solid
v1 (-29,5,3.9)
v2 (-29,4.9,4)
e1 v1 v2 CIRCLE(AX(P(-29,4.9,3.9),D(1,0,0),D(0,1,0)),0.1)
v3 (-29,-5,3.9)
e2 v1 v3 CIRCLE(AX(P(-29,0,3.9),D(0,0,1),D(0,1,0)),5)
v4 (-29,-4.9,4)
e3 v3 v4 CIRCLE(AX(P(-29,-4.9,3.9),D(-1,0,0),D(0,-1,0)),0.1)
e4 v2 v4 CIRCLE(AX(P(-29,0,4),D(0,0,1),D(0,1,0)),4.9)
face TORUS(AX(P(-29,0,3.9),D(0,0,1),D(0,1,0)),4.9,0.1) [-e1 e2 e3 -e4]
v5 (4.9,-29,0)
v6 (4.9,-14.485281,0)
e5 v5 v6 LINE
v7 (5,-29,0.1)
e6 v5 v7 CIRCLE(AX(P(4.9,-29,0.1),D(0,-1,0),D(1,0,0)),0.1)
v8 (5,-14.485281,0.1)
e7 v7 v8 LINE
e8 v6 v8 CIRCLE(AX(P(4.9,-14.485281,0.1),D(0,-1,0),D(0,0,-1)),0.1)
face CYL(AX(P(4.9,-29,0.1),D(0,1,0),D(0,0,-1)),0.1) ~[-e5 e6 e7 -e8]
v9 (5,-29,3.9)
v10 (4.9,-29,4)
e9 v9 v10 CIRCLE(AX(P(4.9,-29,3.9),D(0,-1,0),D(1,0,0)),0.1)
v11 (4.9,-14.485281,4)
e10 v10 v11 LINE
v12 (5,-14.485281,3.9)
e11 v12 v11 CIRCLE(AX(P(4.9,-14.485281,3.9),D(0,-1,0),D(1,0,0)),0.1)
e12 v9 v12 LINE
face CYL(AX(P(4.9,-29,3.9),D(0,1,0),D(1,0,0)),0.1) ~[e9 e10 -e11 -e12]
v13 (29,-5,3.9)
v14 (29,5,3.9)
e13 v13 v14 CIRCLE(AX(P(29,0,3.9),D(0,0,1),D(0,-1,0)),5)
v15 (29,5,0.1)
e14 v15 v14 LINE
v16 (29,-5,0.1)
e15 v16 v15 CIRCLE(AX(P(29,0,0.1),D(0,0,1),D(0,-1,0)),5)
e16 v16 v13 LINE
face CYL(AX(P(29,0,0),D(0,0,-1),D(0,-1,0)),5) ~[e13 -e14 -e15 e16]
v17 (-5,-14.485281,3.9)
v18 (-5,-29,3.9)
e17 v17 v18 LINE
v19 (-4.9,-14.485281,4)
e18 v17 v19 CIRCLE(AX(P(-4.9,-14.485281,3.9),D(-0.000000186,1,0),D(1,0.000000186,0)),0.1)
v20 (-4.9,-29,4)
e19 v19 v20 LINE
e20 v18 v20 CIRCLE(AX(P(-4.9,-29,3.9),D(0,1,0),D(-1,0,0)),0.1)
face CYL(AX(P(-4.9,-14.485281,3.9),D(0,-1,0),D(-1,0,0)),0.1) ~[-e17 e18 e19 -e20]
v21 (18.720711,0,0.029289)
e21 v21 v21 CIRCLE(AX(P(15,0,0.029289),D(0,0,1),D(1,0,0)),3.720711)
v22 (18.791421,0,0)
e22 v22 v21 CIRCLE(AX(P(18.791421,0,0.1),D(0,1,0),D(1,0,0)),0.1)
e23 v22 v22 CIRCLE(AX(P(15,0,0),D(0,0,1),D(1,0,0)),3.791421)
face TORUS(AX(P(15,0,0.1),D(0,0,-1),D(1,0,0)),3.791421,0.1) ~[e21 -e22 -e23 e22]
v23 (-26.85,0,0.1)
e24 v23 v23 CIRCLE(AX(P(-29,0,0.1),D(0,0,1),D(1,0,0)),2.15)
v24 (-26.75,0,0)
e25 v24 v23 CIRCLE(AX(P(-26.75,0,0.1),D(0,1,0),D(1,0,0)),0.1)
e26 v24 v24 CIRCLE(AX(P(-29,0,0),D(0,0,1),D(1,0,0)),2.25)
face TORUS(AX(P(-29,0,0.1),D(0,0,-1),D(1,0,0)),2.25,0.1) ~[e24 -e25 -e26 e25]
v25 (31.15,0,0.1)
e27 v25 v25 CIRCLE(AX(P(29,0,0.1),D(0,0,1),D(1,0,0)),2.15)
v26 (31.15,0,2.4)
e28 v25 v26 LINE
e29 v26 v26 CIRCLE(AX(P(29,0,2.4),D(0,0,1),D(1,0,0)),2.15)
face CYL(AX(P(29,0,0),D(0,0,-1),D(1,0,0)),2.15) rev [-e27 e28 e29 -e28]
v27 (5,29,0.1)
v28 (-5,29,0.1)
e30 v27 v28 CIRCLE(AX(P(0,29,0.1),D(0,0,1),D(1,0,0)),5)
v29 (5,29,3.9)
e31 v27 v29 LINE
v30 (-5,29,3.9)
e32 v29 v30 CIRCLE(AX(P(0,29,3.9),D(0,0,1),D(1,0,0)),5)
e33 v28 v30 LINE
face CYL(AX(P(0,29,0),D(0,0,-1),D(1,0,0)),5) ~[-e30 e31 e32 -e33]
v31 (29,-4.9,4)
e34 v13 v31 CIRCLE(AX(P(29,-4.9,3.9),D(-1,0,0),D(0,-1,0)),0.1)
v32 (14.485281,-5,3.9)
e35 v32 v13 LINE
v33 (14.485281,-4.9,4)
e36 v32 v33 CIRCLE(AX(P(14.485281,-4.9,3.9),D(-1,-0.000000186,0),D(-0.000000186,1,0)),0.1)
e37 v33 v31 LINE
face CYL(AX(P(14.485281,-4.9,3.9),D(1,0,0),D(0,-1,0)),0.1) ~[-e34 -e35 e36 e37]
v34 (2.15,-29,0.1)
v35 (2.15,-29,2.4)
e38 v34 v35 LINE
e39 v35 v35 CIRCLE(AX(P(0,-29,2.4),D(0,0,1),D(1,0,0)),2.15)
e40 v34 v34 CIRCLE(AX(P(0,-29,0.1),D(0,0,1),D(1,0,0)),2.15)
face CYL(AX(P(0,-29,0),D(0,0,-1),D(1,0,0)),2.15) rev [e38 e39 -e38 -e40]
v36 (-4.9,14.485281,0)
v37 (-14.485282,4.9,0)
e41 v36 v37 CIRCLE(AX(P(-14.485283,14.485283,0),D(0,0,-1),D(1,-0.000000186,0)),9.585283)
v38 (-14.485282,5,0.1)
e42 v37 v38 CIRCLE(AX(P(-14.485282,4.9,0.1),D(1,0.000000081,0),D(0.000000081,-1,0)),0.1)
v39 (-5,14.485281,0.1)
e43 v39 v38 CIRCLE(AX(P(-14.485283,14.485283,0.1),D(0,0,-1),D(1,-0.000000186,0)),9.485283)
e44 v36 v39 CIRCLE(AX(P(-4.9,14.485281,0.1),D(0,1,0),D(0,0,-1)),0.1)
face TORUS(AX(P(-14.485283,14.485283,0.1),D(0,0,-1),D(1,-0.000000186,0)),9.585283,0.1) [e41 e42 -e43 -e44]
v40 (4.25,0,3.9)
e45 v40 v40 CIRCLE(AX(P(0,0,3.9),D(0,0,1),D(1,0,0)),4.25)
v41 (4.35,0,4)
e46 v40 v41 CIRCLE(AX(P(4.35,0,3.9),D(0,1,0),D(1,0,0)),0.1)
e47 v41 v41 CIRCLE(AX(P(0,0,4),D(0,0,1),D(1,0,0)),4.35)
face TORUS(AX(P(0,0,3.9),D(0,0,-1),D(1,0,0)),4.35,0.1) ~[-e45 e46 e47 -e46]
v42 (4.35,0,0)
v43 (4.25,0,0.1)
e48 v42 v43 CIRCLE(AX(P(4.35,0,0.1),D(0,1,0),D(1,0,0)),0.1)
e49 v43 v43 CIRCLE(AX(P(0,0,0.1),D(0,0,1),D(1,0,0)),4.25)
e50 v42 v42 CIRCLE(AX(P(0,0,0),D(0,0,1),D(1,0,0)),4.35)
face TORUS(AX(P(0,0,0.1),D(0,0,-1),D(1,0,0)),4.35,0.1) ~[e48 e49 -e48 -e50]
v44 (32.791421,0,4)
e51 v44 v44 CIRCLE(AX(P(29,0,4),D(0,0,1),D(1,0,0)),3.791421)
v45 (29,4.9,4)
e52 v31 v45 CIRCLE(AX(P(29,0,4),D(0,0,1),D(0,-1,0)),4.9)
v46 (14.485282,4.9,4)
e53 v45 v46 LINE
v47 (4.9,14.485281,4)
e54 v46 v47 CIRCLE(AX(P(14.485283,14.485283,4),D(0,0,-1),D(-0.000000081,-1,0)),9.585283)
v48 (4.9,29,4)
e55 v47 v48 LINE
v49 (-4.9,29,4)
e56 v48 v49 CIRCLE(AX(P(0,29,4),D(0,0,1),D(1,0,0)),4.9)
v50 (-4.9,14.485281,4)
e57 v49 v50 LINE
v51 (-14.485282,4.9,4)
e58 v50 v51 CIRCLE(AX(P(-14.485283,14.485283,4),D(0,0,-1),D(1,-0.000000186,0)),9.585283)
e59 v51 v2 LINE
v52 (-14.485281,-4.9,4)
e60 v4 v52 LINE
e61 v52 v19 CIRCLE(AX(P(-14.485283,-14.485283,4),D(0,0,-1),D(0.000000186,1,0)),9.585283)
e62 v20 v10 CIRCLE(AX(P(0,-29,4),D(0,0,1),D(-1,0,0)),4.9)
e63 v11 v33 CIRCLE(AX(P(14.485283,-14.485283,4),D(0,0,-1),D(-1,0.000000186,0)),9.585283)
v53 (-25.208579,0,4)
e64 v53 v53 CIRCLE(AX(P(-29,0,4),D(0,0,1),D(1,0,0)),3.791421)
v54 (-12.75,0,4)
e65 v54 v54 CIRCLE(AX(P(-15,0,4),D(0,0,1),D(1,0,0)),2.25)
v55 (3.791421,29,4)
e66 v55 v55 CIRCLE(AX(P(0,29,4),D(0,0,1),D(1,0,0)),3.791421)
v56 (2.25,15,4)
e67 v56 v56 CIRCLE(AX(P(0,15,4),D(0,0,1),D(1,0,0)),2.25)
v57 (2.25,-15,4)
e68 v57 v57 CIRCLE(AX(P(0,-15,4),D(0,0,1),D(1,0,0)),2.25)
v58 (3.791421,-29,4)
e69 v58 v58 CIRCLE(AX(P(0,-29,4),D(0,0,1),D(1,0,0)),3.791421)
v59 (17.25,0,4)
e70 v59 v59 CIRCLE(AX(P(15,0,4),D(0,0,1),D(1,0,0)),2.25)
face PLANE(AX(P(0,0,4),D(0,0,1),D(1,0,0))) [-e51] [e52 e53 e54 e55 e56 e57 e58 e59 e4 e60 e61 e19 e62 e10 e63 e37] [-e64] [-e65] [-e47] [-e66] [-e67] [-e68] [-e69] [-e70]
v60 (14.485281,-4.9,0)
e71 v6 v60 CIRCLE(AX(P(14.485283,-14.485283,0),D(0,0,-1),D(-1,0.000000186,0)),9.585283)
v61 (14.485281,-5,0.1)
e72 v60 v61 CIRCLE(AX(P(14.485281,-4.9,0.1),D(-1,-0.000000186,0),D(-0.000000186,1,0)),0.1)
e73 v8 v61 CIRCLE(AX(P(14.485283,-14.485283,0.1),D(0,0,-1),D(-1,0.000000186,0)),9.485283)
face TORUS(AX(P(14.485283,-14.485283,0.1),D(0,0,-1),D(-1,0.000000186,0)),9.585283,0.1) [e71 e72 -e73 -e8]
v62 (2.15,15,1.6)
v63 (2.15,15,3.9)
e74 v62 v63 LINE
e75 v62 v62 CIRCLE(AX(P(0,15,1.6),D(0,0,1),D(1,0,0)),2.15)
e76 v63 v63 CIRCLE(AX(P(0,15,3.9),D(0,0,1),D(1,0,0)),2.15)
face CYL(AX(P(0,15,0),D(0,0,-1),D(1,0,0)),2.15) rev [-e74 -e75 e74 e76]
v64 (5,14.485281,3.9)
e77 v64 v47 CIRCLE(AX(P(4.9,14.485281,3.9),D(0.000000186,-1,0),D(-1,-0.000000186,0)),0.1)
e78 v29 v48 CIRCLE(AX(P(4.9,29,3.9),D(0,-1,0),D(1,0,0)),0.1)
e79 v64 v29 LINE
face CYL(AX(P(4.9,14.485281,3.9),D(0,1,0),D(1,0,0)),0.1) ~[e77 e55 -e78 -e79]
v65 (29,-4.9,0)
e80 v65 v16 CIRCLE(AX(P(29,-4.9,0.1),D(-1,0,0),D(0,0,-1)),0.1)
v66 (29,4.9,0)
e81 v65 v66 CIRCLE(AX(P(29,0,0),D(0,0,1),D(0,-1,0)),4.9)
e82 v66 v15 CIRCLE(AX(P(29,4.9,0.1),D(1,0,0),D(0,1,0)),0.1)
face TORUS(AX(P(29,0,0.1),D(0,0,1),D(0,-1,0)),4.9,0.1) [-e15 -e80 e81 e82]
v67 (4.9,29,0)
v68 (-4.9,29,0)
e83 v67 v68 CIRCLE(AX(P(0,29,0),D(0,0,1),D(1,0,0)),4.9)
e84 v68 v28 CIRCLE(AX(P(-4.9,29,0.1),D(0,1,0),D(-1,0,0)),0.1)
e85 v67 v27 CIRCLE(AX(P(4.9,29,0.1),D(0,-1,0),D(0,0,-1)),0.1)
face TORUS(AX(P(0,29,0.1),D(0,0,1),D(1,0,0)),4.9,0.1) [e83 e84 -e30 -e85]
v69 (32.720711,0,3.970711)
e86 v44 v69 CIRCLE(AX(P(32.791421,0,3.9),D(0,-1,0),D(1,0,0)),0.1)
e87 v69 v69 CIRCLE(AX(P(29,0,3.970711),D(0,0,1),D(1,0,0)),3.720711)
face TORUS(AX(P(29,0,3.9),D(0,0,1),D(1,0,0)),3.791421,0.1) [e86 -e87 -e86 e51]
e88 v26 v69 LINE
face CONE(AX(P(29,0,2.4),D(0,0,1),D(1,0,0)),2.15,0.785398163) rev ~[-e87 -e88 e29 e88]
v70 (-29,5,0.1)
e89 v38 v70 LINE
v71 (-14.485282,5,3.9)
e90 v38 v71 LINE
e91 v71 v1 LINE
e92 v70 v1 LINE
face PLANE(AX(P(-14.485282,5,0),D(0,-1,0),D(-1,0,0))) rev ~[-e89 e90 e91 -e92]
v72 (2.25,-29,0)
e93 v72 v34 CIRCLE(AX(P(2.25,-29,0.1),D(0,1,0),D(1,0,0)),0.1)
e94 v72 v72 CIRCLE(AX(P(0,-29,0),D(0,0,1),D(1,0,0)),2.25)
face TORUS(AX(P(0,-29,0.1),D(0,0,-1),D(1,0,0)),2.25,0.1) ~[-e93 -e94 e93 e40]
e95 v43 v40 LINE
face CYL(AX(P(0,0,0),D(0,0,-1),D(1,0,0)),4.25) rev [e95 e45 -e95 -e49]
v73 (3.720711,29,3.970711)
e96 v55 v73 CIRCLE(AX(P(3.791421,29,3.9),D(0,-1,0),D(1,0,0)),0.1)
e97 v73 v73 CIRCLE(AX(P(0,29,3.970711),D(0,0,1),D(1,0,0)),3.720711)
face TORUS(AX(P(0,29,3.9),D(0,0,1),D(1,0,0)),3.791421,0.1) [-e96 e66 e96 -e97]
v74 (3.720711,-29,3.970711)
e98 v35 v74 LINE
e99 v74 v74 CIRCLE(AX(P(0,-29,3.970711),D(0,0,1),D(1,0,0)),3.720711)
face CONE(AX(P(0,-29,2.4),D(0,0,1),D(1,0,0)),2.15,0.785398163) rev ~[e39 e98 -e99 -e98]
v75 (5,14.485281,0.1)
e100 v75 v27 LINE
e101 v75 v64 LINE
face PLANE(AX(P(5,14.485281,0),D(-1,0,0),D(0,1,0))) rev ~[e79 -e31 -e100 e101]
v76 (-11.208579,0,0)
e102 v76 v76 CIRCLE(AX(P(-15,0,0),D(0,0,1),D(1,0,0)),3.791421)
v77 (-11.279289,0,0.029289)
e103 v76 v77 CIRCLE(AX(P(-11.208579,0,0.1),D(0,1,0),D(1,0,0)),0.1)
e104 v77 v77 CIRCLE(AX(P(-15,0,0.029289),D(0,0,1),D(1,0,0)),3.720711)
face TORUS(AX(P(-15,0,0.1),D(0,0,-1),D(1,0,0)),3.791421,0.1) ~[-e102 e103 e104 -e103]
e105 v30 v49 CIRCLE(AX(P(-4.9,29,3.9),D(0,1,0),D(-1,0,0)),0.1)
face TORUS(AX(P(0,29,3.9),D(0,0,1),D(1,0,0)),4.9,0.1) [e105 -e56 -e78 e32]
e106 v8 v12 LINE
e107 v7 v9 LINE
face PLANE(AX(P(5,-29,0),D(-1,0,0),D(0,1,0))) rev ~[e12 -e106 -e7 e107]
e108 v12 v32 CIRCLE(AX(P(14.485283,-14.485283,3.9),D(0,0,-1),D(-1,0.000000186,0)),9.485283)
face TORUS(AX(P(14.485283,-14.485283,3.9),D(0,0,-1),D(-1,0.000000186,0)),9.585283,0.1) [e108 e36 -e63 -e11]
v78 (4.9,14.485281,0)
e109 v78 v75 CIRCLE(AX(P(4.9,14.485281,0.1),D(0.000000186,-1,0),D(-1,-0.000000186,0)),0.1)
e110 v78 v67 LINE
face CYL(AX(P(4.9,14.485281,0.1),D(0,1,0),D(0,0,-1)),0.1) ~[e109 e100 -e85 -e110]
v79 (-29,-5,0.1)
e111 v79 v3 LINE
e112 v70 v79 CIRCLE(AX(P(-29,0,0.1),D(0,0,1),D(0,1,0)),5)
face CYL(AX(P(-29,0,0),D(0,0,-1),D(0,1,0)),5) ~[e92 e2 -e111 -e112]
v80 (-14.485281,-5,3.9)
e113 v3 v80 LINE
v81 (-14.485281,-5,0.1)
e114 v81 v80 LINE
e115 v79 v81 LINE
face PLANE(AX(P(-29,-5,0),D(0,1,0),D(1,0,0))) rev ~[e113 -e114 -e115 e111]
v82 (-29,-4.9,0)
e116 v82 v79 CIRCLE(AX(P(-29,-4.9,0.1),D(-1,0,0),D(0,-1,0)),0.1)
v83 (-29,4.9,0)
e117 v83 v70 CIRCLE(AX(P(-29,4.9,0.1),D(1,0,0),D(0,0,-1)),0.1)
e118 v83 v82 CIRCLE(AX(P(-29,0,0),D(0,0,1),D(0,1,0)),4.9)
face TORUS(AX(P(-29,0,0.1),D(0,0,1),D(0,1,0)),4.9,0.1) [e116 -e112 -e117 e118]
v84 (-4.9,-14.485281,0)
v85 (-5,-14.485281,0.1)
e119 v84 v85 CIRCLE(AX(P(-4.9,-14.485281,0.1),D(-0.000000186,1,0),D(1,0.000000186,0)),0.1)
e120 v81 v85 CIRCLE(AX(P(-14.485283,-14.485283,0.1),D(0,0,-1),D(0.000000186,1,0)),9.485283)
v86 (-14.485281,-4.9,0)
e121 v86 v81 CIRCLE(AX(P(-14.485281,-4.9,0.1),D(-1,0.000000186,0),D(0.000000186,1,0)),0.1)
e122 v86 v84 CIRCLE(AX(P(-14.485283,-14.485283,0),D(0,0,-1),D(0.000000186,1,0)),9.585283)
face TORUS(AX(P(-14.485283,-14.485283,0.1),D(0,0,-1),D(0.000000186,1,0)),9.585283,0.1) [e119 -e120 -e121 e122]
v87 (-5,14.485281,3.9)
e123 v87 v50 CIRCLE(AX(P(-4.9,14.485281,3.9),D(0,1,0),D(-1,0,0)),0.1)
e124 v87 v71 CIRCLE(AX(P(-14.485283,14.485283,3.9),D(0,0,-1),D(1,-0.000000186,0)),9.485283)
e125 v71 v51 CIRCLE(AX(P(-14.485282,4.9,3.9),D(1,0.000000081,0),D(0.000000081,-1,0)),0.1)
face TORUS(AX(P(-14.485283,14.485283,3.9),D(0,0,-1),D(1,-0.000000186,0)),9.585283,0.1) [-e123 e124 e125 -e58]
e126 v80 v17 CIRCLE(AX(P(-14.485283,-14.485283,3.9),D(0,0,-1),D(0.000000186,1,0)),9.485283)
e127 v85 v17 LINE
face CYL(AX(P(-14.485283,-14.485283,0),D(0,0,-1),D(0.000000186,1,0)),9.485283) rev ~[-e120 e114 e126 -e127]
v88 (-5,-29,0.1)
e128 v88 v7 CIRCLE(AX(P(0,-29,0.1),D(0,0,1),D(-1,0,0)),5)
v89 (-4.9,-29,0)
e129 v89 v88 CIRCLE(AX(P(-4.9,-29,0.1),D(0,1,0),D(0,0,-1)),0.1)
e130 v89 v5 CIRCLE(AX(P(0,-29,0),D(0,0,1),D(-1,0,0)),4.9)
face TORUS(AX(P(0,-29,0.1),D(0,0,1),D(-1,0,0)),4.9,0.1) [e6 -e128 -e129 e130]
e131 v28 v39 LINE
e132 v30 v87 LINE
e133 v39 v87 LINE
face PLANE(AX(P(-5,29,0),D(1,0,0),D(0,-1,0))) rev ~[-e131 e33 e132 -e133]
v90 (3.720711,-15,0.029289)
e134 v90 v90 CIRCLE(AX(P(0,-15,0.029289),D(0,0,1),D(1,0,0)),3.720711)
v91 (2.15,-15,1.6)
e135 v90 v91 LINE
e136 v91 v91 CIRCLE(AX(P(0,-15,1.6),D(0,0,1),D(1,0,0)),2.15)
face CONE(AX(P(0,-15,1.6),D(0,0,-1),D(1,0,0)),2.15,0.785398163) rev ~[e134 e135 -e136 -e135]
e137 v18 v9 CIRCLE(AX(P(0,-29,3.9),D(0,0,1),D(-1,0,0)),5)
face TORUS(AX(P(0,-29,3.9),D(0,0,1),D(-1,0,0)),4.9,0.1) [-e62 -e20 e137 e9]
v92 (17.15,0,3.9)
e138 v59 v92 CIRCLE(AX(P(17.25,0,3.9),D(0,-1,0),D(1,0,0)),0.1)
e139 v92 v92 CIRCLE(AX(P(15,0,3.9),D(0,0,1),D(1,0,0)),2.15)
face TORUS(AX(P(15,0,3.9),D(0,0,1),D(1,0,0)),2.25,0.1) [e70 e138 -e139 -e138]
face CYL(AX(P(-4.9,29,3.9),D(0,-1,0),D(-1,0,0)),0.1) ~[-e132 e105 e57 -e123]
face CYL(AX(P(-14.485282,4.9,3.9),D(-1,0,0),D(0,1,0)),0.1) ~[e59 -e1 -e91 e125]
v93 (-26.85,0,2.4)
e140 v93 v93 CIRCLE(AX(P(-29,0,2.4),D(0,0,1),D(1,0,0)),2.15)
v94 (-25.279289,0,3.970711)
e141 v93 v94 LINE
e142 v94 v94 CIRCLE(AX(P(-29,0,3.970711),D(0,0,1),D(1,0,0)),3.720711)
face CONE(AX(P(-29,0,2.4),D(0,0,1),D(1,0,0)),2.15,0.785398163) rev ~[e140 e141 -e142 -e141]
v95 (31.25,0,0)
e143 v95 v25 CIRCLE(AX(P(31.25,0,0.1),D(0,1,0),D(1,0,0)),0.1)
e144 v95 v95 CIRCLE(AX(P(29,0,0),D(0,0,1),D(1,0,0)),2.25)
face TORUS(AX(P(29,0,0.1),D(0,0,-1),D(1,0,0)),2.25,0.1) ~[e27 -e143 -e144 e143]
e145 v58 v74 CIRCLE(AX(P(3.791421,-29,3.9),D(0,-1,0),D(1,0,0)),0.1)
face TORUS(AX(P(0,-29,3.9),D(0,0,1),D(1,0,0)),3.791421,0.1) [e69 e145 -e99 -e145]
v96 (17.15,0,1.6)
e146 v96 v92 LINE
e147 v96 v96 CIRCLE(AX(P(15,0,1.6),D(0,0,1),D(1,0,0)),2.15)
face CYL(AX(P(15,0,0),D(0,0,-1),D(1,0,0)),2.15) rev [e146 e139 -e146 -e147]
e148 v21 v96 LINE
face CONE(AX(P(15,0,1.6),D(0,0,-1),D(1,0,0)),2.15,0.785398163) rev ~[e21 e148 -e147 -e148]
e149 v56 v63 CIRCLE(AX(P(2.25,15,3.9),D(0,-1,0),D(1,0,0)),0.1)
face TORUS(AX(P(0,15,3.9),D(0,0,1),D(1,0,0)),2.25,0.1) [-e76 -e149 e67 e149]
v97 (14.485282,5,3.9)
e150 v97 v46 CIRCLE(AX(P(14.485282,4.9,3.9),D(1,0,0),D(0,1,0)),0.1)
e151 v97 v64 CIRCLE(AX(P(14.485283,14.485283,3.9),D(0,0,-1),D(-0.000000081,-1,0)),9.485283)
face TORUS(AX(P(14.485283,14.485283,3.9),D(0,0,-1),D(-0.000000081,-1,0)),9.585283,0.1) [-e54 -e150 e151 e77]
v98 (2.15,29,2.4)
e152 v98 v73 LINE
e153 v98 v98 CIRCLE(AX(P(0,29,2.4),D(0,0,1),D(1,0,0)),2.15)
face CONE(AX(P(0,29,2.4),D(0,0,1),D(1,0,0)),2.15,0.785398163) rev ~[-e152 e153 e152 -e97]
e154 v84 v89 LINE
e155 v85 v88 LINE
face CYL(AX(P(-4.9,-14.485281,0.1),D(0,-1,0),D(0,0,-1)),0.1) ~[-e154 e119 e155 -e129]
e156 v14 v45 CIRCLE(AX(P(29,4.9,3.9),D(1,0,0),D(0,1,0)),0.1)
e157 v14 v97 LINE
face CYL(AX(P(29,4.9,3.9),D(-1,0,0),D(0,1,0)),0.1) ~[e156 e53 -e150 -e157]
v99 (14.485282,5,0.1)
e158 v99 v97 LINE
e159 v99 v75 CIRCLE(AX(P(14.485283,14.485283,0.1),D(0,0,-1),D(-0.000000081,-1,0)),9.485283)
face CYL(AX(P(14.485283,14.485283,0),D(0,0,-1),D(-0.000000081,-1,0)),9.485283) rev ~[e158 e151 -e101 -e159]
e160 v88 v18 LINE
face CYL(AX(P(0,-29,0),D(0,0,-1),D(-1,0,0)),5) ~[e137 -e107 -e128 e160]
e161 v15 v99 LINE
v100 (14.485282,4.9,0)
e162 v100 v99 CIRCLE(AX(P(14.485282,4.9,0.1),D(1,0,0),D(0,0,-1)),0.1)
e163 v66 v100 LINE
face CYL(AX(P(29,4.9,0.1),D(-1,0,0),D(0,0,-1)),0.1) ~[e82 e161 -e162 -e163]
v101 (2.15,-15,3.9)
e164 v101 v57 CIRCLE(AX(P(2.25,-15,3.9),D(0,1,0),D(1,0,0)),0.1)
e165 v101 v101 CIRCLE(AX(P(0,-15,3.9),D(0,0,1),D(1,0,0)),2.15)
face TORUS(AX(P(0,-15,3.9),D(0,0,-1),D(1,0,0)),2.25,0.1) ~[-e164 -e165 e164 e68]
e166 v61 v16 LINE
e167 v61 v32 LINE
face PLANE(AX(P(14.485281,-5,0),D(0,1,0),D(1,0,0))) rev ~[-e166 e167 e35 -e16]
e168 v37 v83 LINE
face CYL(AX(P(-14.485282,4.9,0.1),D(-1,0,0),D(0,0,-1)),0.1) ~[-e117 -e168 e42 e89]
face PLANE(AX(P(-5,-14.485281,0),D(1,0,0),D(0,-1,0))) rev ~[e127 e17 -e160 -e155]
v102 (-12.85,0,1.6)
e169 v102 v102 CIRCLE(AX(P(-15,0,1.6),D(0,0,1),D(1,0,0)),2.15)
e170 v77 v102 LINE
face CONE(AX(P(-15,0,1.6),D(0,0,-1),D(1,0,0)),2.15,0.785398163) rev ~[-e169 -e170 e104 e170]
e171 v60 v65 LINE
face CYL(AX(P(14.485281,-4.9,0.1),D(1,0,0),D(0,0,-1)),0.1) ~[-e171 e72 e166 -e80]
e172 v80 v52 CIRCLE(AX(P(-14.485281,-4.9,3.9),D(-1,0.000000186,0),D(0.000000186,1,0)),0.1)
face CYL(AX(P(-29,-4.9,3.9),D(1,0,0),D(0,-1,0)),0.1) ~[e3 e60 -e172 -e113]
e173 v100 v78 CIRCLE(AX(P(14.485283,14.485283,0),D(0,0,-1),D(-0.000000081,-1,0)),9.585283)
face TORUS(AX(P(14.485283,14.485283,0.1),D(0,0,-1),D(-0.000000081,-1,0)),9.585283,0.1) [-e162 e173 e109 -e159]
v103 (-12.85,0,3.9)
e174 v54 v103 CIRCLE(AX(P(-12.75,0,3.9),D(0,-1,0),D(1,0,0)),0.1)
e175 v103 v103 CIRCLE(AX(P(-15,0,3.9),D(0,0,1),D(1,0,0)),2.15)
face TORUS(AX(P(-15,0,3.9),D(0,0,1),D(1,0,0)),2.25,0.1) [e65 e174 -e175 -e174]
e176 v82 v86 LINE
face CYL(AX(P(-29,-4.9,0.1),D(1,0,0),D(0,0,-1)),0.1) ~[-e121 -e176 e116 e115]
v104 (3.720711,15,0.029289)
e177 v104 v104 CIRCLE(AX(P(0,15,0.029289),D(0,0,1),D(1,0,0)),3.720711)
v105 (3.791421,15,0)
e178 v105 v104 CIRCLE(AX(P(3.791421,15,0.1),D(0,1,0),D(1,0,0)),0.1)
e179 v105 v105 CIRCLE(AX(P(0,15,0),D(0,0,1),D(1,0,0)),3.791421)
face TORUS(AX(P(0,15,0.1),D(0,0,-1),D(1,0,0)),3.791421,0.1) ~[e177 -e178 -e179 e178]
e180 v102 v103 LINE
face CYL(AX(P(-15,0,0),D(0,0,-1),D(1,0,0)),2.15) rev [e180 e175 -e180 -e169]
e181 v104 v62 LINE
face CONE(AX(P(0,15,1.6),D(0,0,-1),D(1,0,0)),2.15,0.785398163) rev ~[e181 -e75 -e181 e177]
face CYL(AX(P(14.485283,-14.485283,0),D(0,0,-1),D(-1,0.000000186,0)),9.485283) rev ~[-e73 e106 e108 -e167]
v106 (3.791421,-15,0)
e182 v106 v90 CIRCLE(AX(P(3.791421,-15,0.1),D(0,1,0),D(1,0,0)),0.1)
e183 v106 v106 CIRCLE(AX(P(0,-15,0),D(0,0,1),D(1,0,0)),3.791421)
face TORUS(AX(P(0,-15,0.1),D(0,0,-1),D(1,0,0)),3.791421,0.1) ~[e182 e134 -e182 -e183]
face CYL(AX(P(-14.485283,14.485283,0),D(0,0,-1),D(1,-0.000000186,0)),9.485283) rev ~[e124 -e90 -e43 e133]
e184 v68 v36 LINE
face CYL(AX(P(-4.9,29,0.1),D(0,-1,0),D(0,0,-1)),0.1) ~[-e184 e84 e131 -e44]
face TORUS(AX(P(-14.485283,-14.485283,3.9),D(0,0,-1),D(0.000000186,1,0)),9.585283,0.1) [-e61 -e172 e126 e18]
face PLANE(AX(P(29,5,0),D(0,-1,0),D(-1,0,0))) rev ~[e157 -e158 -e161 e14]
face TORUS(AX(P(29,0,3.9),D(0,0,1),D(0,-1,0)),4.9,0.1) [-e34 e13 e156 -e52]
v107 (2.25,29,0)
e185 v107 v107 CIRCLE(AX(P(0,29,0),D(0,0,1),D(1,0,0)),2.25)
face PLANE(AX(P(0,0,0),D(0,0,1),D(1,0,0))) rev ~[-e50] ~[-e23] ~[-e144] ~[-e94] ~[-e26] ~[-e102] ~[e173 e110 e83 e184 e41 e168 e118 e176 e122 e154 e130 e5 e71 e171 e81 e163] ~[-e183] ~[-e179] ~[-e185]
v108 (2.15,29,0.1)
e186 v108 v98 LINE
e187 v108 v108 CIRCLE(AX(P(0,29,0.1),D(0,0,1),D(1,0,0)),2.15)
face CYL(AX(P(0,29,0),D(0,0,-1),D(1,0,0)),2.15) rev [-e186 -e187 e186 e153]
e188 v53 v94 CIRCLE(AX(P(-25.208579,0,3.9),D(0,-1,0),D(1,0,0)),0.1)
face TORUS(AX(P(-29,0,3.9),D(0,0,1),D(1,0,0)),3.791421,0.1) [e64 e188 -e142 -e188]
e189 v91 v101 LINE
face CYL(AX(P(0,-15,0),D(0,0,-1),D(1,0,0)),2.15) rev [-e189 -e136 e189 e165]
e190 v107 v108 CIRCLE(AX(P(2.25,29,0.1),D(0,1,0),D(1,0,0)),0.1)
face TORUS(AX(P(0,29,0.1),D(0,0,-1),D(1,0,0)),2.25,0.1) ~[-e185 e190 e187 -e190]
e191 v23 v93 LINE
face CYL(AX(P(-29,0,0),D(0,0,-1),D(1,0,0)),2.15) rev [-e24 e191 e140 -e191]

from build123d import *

# Parameters (mm, degrees)
F0_R     = 2.15
F0_R_2   = 4.25
F1_DEPTH = 4
F2_SIZE  = 1.6
F3_SIZE  = 1.6
F4_R     = 0.1
F5_R     = 0.1


with BuildPart() as f1:
    # F0 (on Top) → F1 (new body)
    with BuildSketch(Plane.XY):
        with BuildLine():
            Line((5, 14.485281), (5, 29))
            ThreePointArc((5, 29), (0, 34), (-5, 29))
            Line((-5, 29), (-5, 14.485281))
            ThreePointArc((-5, 14.485281), (-7.778175, 7.778175), (-14.485282, 5))
            Line((-14.485282, 5), (-29, 5))
            ThreePointArc((-29, 5), (-34, 0), (-29, -5))
            Line((-29, -5), (-14.485281, -5))
            ThreePointArc((-14.485281, -5), (-7.778175, -7.778175), (-5, -14.485281))
            Line((-5, -14.485281), (-5, -29))
            ThreePointArc((-5, -29), (0, -34), (5, -29))
            Line((5, -29), (5, -14.485281))
            ThreePointArc((5, -14.485281), (7.778175, -7.778175), (14.485281, -5))
            Line((14.485281, -5), (29, -5))
            ThreePointArc((29, -5), (34, 0), (29, 5))
            Line((29, 5), (14.485282, 5))
            ThreePointArc((14.485282, 5), (7.778175, 7.778175), (5, 14.485281))
        make_face()
        with Locations((-29, 0)):
            Circle(F0_R, mode=Mode.SUBTRACT)
        with Locations((0, -29)):
            Circle(F0_R, mode=Mode.SUBTRACT)
        with Locations((0, -15)):
            Circle(F0_R, mode=Mode.SUBTRACT)
        with Locations((29, 0)):
            Circle(F0_R, mode=Mode.SUBTRACT)
        with Locations((-15, 0)):
            Circle(F0_R, mode=Mode.SUBTRACT)
        Circle(F0_R_2, mode=Mode.SUBTRACT)
        with Locations((15, 0)):
            Circle(F0_R, mode=Mode.SUBTRACT)
        with Locations((0, 15)):
            Circle(F0_R, mode=Mode.SUBTRACT)
        with Locations((0, 29)):
            Circle(F0_R, mode=Mode.SUBTRACT)
    extrude(amount=F1_DEPTH)

    # F2
    f2_edges = [f1.edges().sort_by_distance(p)[0] for p in [
        (-2.15, 29, 4),
        (26.85, 0, 4),
        (-2.15, -29, 4),
        (-31.15, 0, 4),
    ]]
    chamfer(f2_edges, length=F2_SIZE)

    # F3
    f3_edges = [f1.edges().sort_by_distance(p)[0] for p in [
        (-2.15, -15, 0),
        (-17.15, 0, 0),
        (-2.15, 15, 0),
        (12.85, 0, 0),
    ]]
    chamfer(f3_edges, length=F3_SIZE)

    # F4
    f4_edges = [f1.edges().sort_by_distance(p)[0] for p in [
        (-3.75, 29, 4),
        (-7.778175, -7.778175, 4),
        (-5, -21.742641, 4),
        (0, -34, 4),
        (5, -21.742641, 4),
        (7.778175, -7.778175, 4),
        (21.742641, -5, 4),
        (34, 0, 4),
        (21.742641, 5, 4),
        (7.778175, 7.778175, 4),
        (5, 21.742641, 4),
        (0, 34, 4),
        (-5, 21.742641, 4),
        (-7.778175, 7.778175, 4),
        (-21.742641, 5, 4),
        (-34, 0, 4),
        (-21.742641, -5, 4),
        (-2.15, -15, 4),
        (-17.15, 0, 4),
        (-4.25, 0, 4),
        (12.85, 0, 4),
        (-2.15, 15, 4),
        (25.25, 0, 4),
        (-3.75, -29, 4),
        (-32.75, 0, 4),
    ]]
    fillet(f4_edges, radius=F4_R)

    # F5
    f5_edges = [f1.edges().sort_by_distance(p)[0] for p in [
        (-3.75, -15, 0),
        (-7.778175, -7.778175, 0),
        (-5, -21.742641, 0),
        (0, -34, 0),
        (5, -21.742641, 0),
        (7.778175, -7.778175, 0),
        (21.742641, -5, 0),
        (34, 0, 0),
        (21.742641, 5, 0),
        (7.778175, 7.778175, 0),
        (5, 21.742641, 0),
        (0, 34, 0),
        (-5, 21.742641, 0),
        (-7.778175, 7.778175, 0),
        (-21.742641, 5, 0),
        (-34, 0, 0),
        (-21.742641, -5, 0),
        (-31.15, 0, 0),
        (-2.15, -29, 0),
        (26.85, 0, 0),
        (-4.25, 0, 0),
        (-2.15, 29, 0),
        (-18.75, 0, 0),
        (-3.75, 15, 0),
        (11.25, 0, 0),
    ]]
    fillet(f5_edges, radius=F5_R)


solid = f1.part
